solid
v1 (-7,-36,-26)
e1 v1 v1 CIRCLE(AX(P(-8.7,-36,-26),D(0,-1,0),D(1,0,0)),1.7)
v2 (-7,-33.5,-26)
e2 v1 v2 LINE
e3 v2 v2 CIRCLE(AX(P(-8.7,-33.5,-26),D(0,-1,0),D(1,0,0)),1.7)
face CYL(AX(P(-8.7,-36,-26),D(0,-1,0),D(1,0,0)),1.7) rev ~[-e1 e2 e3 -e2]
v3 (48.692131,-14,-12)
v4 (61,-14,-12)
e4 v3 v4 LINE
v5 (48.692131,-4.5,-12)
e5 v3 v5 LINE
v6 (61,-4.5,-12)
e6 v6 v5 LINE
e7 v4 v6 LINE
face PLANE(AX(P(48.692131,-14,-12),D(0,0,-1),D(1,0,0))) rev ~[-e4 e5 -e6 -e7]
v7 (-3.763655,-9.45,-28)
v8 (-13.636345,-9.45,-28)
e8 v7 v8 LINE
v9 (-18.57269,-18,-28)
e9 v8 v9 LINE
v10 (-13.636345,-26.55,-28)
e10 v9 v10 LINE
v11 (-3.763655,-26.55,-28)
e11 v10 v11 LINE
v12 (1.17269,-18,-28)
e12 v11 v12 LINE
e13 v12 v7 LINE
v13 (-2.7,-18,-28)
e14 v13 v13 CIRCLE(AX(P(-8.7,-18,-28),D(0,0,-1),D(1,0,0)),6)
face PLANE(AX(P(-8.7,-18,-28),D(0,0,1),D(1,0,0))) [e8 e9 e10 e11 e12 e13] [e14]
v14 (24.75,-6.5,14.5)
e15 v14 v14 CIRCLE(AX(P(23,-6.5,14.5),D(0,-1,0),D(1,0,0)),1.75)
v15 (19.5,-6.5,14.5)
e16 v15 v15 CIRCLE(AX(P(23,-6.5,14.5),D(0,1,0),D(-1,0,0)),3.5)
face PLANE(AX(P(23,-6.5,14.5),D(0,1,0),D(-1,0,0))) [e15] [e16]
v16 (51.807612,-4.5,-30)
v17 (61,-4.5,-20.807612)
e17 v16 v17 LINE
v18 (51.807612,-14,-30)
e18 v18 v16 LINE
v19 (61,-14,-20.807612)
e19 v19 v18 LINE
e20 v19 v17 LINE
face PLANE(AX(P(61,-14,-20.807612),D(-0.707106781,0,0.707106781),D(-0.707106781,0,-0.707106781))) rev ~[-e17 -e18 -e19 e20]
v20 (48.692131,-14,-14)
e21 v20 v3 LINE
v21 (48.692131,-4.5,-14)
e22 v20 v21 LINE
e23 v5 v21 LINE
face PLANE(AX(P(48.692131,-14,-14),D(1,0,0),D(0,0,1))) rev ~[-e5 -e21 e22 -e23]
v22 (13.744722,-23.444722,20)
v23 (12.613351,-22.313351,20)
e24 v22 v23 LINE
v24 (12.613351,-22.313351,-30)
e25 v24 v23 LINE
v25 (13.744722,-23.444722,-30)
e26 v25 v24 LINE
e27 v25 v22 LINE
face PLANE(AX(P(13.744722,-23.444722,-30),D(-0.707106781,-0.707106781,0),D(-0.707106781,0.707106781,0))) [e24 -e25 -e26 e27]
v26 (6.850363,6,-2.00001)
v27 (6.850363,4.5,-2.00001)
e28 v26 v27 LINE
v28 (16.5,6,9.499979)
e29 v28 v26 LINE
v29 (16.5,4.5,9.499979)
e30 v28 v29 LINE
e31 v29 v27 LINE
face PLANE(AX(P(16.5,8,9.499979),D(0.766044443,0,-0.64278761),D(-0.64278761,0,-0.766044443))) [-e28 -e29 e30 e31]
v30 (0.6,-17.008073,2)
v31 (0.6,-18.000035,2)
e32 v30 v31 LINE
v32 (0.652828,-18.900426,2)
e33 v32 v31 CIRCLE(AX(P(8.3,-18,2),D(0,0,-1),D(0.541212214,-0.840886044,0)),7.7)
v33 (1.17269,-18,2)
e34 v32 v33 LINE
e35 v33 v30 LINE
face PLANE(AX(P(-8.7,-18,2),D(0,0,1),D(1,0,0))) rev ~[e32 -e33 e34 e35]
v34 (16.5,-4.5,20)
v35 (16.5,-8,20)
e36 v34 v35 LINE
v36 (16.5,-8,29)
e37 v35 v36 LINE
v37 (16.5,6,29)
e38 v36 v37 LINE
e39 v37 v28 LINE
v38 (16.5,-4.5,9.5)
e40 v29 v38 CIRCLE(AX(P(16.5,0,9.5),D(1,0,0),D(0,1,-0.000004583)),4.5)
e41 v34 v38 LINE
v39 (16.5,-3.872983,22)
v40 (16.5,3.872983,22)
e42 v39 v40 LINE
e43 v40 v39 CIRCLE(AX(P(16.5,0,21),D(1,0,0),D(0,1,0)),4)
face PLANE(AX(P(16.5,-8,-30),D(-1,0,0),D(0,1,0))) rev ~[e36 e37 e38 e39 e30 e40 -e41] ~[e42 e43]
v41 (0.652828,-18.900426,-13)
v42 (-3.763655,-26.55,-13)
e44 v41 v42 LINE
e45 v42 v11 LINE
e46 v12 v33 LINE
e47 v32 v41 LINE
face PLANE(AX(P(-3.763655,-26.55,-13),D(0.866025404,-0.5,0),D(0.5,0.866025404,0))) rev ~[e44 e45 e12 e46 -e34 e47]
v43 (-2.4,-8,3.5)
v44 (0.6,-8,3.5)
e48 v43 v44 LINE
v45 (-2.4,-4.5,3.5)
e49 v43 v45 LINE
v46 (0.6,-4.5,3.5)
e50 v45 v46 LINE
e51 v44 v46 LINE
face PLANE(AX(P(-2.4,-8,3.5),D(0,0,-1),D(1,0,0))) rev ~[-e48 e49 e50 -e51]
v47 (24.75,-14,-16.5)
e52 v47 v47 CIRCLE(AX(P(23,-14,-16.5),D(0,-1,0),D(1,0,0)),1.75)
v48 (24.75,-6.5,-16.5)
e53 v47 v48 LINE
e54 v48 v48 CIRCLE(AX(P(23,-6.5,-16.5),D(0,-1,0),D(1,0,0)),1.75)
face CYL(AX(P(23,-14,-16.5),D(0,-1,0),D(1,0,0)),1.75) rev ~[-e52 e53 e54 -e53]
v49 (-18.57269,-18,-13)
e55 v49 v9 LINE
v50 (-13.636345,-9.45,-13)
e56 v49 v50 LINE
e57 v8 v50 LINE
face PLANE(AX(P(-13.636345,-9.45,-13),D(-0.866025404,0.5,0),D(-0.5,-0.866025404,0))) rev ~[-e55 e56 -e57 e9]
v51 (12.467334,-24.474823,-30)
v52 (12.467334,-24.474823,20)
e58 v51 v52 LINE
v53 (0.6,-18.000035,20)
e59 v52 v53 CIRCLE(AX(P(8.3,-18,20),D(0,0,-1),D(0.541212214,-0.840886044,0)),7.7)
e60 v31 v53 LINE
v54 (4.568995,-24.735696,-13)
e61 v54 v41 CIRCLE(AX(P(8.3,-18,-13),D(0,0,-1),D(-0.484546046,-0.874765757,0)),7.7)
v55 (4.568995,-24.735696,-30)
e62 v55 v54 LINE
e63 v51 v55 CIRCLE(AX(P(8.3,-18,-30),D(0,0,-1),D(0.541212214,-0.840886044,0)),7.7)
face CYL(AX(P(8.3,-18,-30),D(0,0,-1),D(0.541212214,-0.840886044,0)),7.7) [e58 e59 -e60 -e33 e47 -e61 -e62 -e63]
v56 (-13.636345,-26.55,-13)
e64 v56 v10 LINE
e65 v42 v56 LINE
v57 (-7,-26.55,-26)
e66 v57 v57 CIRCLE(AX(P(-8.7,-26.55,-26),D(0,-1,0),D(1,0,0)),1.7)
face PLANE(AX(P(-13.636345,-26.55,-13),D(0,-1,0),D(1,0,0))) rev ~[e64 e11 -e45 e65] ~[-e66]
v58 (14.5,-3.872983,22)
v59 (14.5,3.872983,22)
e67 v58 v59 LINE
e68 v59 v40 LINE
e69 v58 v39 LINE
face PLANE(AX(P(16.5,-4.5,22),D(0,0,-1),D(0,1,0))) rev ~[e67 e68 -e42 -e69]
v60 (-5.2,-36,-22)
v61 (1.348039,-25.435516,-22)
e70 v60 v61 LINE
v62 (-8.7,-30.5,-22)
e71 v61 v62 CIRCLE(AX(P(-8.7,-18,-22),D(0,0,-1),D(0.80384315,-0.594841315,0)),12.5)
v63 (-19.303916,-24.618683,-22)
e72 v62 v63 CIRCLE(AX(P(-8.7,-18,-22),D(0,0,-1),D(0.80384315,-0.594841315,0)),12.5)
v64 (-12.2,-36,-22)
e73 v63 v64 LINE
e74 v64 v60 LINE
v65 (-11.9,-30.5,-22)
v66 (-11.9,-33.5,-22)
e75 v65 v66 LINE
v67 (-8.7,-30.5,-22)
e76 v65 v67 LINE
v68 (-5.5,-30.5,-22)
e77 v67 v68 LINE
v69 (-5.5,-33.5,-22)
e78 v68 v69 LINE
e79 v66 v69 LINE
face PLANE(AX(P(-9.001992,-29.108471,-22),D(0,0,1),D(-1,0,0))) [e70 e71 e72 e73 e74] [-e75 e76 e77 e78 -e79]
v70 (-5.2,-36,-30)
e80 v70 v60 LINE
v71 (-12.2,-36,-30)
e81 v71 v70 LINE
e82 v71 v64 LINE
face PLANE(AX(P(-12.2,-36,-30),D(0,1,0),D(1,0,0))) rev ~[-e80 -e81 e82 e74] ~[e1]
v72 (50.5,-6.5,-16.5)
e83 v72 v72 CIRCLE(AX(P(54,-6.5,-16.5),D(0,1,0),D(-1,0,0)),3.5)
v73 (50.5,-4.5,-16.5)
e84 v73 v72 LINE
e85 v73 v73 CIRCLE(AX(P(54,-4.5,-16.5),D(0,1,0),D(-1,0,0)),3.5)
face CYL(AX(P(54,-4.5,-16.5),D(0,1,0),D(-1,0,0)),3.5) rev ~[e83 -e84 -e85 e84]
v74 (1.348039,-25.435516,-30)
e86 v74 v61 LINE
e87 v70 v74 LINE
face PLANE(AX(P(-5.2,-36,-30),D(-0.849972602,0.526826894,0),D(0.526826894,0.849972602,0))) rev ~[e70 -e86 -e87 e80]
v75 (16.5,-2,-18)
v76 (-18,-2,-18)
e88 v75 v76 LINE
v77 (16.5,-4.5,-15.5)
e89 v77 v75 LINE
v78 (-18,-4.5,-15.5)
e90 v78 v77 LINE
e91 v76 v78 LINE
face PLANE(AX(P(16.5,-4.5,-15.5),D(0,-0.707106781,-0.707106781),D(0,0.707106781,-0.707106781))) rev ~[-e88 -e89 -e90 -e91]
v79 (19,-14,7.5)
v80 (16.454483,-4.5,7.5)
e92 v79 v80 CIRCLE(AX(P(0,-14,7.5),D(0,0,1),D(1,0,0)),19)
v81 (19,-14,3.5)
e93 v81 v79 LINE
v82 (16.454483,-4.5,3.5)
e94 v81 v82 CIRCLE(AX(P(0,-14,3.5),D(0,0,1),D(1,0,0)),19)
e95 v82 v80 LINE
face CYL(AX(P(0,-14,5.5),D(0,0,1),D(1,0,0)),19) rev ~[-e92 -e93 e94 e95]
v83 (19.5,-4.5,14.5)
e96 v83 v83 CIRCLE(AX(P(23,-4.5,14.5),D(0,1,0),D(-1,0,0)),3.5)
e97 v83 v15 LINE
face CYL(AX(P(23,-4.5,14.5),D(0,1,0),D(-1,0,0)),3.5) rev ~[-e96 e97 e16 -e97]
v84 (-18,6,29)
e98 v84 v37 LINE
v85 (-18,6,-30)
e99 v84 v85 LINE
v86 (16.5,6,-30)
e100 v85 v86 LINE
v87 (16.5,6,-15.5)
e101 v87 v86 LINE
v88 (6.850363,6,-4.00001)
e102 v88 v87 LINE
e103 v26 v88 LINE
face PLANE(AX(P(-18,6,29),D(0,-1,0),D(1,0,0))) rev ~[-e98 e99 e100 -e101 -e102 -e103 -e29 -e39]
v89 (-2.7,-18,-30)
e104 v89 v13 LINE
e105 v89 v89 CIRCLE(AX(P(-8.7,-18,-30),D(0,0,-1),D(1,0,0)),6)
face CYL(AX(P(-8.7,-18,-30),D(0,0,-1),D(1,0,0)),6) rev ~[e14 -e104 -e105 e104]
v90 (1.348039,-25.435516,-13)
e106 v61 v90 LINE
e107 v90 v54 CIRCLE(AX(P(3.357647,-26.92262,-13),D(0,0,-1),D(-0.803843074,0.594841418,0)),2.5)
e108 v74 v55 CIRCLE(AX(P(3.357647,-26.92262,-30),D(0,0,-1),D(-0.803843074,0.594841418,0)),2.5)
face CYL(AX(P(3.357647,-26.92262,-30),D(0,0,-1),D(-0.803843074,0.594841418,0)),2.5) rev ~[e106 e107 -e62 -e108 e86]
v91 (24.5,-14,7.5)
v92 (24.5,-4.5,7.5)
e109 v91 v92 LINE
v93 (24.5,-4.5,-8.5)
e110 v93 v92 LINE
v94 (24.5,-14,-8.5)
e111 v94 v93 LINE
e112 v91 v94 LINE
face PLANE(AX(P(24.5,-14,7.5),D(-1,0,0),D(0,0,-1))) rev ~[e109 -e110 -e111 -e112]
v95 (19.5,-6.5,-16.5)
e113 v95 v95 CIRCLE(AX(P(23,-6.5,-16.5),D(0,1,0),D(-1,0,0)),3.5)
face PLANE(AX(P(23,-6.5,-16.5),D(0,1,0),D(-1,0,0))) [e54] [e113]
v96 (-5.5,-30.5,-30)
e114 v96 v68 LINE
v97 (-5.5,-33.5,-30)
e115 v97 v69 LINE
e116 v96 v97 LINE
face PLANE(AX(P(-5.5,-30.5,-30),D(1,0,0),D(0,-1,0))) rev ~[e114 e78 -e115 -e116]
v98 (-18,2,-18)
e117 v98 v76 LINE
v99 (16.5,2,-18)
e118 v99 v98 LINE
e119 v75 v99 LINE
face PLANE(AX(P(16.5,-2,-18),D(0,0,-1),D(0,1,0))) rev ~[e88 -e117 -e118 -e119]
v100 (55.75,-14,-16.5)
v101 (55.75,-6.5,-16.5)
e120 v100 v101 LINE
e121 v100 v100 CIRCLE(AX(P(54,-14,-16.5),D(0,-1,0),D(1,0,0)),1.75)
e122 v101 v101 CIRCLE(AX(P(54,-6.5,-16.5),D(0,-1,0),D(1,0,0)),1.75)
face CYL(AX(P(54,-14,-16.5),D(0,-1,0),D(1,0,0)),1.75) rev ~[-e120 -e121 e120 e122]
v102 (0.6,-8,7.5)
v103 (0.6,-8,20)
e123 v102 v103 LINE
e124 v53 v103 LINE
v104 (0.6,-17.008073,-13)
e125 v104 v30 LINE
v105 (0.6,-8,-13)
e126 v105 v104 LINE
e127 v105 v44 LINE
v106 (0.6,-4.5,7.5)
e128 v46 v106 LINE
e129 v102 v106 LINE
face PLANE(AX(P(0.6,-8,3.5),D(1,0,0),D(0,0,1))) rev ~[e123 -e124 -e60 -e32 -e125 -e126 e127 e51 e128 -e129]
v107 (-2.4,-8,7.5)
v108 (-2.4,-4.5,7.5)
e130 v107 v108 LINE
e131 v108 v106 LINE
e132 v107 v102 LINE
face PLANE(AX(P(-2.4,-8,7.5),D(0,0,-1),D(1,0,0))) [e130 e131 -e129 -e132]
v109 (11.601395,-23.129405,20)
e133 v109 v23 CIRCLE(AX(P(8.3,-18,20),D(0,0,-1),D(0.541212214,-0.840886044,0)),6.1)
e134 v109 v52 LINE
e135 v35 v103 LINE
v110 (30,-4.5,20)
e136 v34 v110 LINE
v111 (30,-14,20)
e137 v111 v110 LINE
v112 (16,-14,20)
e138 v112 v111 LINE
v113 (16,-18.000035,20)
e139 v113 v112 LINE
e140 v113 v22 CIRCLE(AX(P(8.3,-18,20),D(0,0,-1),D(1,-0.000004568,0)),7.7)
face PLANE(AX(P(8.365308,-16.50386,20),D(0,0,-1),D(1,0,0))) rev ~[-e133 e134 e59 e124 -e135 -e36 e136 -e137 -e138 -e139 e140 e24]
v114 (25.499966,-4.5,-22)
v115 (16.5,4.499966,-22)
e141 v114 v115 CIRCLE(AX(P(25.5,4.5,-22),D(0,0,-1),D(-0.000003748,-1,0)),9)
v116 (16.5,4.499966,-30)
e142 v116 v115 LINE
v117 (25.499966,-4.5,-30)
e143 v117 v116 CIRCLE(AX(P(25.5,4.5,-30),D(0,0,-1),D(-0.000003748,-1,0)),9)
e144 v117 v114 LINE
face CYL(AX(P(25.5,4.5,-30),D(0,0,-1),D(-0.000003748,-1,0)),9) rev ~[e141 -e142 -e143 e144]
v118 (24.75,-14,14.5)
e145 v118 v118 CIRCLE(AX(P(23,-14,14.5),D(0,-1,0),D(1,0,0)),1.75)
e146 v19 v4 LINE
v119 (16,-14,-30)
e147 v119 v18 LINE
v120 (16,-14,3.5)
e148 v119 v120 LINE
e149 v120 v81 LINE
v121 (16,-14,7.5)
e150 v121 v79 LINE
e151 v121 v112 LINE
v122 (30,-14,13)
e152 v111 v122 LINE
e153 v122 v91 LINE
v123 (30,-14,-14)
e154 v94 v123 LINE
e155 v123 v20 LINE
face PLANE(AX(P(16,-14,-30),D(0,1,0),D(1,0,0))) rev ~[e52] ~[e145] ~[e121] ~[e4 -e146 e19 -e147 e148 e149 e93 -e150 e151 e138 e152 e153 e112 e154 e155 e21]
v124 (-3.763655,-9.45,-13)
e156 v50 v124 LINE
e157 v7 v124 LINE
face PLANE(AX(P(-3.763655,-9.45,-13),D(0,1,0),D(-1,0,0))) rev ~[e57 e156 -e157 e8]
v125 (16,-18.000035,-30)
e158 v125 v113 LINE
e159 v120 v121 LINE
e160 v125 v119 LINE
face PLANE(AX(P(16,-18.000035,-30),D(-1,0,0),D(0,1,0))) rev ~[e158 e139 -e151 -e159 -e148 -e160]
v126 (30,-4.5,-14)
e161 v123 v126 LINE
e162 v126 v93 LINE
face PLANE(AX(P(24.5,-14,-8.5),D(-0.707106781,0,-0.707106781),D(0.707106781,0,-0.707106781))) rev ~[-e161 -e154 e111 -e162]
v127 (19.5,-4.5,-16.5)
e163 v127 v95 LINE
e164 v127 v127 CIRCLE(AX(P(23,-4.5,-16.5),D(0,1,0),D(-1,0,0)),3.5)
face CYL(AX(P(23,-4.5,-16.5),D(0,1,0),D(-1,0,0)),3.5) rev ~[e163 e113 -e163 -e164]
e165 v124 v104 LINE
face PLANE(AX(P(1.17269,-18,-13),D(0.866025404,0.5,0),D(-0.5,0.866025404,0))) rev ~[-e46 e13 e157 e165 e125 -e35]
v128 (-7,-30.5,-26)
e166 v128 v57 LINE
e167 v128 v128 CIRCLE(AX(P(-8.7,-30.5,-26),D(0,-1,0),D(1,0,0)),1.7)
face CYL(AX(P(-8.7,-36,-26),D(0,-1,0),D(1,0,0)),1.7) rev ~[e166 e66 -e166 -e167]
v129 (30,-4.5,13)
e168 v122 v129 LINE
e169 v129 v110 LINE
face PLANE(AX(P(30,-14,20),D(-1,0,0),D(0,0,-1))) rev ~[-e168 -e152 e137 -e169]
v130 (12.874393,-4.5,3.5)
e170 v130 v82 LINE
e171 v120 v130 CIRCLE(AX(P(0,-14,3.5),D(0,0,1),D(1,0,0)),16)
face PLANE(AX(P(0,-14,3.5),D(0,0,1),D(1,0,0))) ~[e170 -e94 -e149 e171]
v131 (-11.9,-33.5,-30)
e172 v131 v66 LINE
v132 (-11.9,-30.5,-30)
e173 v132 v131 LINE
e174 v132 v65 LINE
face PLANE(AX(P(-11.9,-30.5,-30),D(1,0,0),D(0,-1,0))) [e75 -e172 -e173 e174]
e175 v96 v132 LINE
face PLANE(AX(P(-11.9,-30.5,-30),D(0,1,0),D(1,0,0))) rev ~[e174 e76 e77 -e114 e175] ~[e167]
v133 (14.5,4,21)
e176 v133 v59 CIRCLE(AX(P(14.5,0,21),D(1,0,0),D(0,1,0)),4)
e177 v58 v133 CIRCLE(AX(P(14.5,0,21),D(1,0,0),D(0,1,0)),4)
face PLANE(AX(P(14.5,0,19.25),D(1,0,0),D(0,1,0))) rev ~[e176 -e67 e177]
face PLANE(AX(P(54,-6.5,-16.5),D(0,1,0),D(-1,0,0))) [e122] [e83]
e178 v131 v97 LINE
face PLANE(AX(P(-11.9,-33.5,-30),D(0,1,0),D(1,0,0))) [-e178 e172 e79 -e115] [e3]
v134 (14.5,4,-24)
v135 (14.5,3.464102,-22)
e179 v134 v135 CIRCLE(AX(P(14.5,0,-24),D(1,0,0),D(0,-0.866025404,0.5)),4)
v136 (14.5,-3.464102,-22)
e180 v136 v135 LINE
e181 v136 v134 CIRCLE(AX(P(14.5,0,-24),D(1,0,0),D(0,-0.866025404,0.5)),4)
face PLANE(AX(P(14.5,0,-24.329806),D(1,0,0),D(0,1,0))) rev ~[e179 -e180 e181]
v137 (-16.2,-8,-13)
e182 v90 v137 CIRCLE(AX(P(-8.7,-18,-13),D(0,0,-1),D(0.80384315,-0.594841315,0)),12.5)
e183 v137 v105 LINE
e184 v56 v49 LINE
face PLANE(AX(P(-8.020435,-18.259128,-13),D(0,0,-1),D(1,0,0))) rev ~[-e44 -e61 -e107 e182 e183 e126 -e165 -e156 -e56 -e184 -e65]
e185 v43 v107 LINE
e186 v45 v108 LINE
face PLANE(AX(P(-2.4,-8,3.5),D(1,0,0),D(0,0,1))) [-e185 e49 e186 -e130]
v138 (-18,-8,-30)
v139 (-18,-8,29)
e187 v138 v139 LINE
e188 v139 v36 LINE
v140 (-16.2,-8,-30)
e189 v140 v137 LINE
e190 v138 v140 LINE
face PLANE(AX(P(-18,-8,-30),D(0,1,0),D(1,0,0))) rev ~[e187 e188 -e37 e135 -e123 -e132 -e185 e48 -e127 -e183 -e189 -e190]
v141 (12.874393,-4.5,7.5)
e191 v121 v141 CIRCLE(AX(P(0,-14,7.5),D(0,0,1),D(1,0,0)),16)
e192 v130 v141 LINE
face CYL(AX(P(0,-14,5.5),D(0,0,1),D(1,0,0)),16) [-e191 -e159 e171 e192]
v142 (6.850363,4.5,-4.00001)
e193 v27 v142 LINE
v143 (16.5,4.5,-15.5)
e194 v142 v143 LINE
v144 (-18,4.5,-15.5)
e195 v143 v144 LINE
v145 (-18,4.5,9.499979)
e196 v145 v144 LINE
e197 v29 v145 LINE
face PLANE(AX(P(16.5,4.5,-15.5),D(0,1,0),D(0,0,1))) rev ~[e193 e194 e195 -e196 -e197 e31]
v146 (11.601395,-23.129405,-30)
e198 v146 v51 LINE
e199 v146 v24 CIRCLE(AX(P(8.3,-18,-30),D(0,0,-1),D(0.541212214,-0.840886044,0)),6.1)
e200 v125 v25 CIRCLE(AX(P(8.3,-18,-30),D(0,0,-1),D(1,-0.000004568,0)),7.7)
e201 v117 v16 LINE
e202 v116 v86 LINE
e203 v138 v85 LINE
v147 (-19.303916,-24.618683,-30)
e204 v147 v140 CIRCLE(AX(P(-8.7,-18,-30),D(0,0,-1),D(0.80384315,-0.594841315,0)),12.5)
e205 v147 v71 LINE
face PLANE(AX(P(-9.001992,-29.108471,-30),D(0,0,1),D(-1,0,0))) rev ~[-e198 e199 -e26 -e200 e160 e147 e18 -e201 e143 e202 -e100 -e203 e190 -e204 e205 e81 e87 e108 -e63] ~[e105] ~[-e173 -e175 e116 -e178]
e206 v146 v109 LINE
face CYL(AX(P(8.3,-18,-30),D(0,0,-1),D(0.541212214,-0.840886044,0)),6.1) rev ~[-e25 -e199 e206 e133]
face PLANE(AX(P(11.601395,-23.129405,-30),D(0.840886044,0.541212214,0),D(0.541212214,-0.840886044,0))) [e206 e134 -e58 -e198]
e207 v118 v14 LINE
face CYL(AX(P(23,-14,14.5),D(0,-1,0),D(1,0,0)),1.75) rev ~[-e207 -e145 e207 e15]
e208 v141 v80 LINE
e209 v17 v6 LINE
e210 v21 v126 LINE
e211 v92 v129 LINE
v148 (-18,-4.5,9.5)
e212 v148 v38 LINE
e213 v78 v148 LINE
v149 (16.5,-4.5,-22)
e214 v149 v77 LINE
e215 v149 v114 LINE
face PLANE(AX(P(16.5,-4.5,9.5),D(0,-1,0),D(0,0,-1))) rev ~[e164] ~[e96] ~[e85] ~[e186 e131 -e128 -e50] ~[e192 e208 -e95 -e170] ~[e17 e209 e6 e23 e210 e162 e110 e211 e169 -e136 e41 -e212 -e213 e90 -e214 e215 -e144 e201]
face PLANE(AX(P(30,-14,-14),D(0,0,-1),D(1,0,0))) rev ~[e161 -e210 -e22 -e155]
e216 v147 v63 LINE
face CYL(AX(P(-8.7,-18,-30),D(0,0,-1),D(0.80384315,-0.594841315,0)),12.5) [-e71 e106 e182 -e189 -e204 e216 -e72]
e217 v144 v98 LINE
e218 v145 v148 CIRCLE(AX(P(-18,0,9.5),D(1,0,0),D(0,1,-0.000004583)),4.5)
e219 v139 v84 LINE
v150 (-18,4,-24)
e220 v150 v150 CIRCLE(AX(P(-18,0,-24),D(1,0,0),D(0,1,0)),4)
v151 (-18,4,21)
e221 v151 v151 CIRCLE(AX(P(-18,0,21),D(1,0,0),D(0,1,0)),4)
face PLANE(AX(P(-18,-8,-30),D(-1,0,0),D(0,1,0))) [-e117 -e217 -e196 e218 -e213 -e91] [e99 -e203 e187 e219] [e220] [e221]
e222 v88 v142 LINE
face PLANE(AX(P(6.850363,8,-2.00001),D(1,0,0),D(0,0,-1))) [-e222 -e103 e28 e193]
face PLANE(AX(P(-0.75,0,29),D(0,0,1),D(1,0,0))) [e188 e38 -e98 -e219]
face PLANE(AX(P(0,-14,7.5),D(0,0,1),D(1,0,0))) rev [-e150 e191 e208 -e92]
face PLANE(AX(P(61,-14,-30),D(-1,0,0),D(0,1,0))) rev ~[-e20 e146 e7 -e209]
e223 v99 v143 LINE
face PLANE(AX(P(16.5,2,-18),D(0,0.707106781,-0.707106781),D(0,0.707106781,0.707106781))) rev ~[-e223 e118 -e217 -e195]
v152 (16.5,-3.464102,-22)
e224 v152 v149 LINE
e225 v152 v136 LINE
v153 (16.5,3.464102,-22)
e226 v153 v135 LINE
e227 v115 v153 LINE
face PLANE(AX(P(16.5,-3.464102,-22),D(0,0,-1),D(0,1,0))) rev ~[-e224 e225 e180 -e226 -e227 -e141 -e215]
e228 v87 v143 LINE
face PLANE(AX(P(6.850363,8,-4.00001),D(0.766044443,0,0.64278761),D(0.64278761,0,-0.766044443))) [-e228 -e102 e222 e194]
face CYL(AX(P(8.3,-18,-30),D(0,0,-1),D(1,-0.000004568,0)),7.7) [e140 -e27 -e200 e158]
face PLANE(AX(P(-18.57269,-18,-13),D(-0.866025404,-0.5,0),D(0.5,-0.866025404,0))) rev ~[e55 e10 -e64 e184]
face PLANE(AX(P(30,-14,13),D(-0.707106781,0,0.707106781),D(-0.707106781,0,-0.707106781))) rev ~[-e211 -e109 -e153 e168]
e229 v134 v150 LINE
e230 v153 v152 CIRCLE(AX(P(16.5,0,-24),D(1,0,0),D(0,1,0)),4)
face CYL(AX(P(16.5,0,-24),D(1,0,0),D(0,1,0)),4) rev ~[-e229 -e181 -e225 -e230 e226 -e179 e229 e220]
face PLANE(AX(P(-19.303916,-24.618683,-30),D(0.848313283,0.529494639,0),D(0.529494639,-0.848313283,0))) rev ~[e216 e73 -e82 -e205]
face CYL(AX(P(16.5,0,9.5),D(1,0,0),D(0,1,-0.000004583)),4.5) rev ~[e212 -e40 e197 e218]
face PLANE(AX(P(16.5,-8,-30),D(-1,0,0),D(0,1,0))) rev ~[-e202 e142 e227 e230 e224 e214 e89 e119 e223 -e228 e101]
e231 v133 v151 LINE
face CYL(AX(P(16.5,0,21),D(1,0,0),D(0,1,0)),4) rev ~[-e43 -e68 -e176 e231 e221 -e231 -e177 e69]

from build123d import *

# Parameters (mm, degrees)
BOX_W           = 34.5
BOX_H           = 16
BOX_DEPTH       = 59
SKETCH_R        = 4
POCKET_DEPTH    = 34.501
POCKET001_DEPTH = 3.5000000001
BOX001_W        = 45
BOX001_H        = 9.5
BOX001_DEPTH    = 50
SKETCH008_R     = 1.75
POCKET002_DEPTH = 9.5010000001
PAD_DEPTH       = 8
PAD001_DEPTH    = 2
SKETCH009_R     = 3.5
POCKET003_DEPTH = 2
PAD002_DEPTH    = 50
SKETCH013_R     = 6
PAD003_DEPTH    = 17
SKETCH019_W     = 9
SKETCH019_H     = 5.5
PAD004_DEPTH    = 2
SKETCH015_W     = 3
SKETCH015_H     = 4
GROOVE_ANGLE    = 40
SKETCH016_W     = 3
SKETCH016_H     = 4
POCKET004_DEPTH = 5
SKETCH020_W     = 6.4
SKETCH020_H     = 3
PAD005_DEPTH    = 8
SKETCH021_R     = 1.7
POCKET005_DEPTH = 13
POCKET006_DEPTH = 15
SKETCH023_W     = 34.5
SKETCH023_H     = 2
POCKET007_DEPTH = 100


with BuildPart() as pocket001:
    # Box → Box (new body)
    with BuildSketch(Plane(origin=(-18, -8, -30), x_dir=(1, 0, 0), z_dir=(0, 0, 1))):
        with Locations((17.25, 8)):
            Rectangle(BOX_W, BOX_H)
    extrude(amount=BOX_DEPTH)

    # Sketch → Pocket (cut, through all)
    with BuildSketch(Plane(origin=(16.5, -8, -30), x_dir=(0, 1, 0), z_dir=(1, 0, 0))):
        with Locations((8, 51)):
            Circle(SKETCH_R)
        with Locations((8, 6)):
            Circle(SKETCH_R)
        with BuildLine():
            ThreePointArc((12.5, 39.4999793754), (8.0000103123, 44), (3.5, 39.5))
            Line((3.5, 39.5), (3.5, 14.5))
            Line((3.5, 14.5), (6, 12))
            Line((6, 12), (10, 12))
            Line((10, 12), (12.5, 14.5))
            Line((12.5, 14.5), (12.5, 39.4999793754))
        make_face()
    extrude(amount=-POCKET_DEPTH, mode=Mode.SUBTRACT)

    # Sketch007 → Pocket001 (cut)
    with BuildSketch(Plane(origin=(-18, 8, -30), x_dir=(-1, 0, 0), z_dir=(0, 1, 0))):
        Polygon((-34.5, 39.4999793754), (-24.8503628945, 27.9999896877), (-24.8503628945, 25.9999896877), (-34.5, 14.5), align=None)
    extrude(amount=-POCKET001_DEPTH, mode=Mode.SUBTRACT)


with BuildPart() as pocket007:
    # Box001 → Box001 (new body)
    with BuildSketch(Plane(origin=(16, -14, -30), x_dir=(1, 0, 0), z_dir=(0, 0, 1))):
        with Locations((22.5, 4.75)):
            Rectangle(BOX001_W, BOX001_H)
    extrude(amount=BOX001_DEPTH)

    # Sketch008 → Pocket002 (cut, through all)
    with BuildSketch(Plane(origin=(16, -14, -30), x_dir=(1, 0, 0), z_dir=(0, -1, 0))):
        with Locations((7, 44.5)):
            Circle(SKETCH008_R)
        with Locations((7, 13.5)):
            Circle(SKETCH008_R)
        with Locations((38, 13.5)):
            Circle(SKETCH008_R)
        Polygon((14, 50), (14, 43), (8.5, 37.5), (8.5, 21.5), (14, 16), (32.692131, 16), (32.692131, 18), (45, 18), (45, 50), align=None)
        Polygon((45, 9.1923881554), (35.8076118446, 0), (45, 0), align=None)
    extrude(amount=-POCKET002_DEPTH, mode=Mode.SUBTRACT)

    # Fusion: union Pocket001
    add(pocket001.part)

    # Sketch010 → Pad (new body)
    with BuildSketch(Plane(origin=(0, 0, -30), x_dir=(1, 0, 0), z_dir=(0, 0, -1))):
        with BuildLine():
            ThreePointArc((25.4999662688, 4.4999999999), (19.1360389694, 1.8639610307), (16.5000000001, -4.4999662687))
            Line((16.5000000001, -4.4999662687), (16.5000000001, 4.4999999999))
            Line((16.5000000001, 4.4999999999), (25.4999662688, 4.4999999999))
        make_face()
    extrude(amount=-PAD_DEPTH)

    # Sketch011 → Pad001 (new body)
    with BuildSketch(Plane.YZ.offset(16.5)):
        with BuildLine():
            ThreePointArc((-3.4641016151, -22), (0, -28), (3.4641016151, -22))
            Line((-3.4641016151, -22), (3.4641016151, -22))
        make_face()
    extrude(amount=-PAD001_DEPTH)

    # Sketch009 → Pocket003 (cut)
    with BuildSketch(Plane(origin=(0, -4.5, 0), x_dir=(-1, 0, 0), z_dir=(0, 1, 0))):
        with Locations((-23, 14.5)):
            Circle(SKETCH009_R)
        with Locations((-54, -16.5)):
            Circle(SKETCH009_R)
        with Locations((-23, -16.5)):
            Circle(SKETCH009_R)
    extrude(amount=-POCKET003_DEPTH, mode=Mode.SUBTRACT)

    # Sketch012 → Pad002 (new body)
    with BuildSketch(Plane(origin=(0, 0, -30), x_dir=(1, 0, 0), z_dir=(0, 0, -1))):
        with BuildLine():
            ThreePointArc((15.9999999999, 18.0000351724), (15.4138656704, 20.9466786767), (13.7447222151, 23.4447222151))
            Line((13.7447222151, 23.4447222151), (12.6133513652, 22.3133513652))
            ThreePointArc((11.6013945082, 23.1294048681), (4.4708258711, 13.2515870556), (12.6133513652, 22.3133513652))
            Line((11.6013945082, 23.1294048681), (12.4673340514, 24.4748225384))
            ThreePointArc((12.4673340514, 24.4748225384), (4.6120940547, 24.759389746), (0.6000000001, 18.0000351024))
            Line((0.6000000001, 18.0000351024), (0.6000000001, 8))
            Line((0.6000000001, 8), (15.9999999999, 8))
            Line((15.9999999999, 18.0000351724), (15.9999999999, 8))
        make_face()
    extrude(amount=-PAD002_DEPTH)

    # Sketch013 → Pad003 (new body)
    with BuildSketch(Plane(origin=(0, 0, -30), x_dir=(1, 0, 0), z_dir=(0, 0, -1))):
        with BuildLine():
            ThreePointArc((1.3480393737, 25.435516441), (-17.5103595019, 26.8672185857), (-16.2, 8))
            Line((-16.2, 8), (0.6000000001, 8))
            Line((0.6000000001, 8), (0.6, 18.0000060082))
            ThreePointArc((4.5689954494, 24.7356963295), (1.6660458786, 21.9090475457), (0.6, 18.0000060082))
            ThreePointArc((1.3480393737, 25.435516441), (2.8268537634, 24.4796180457), (4.5689954493, 24.7356963295))
        make_face()
        with Locations((-8.7, 18)):
            Circle(SKETCH013_R, mode=Mode.SUBTRACT)
    extrude(amount=-PAD003_DEPTH)

    # Sketch019 → Pad004 (new body)
    with BuildSketch(Plane.YZ.offset(16.5)):
        with Locations((0, 19.25)):
            Rectangle(SKETCH019_W, SKETCH019_H)
    extrude(amount=-PAD004_DEPTH)

    # Sketch015 → Groove (revolve, cut)
    with BuildSketch(Plane.XZ.offset(14)):
        with Locations((17.5, 5.5)):
            Rectangle(SKETCH015_W, SKETCH015_H)
    revolve(axis=Axis((0, -14, 0), (0, 0, 1)), revolution_arc=GROOVE_ANGLE, mode=Mode.SUBTRACT)

    # Sketch016 → Pocket004 (cut)
    with BuildSketch(Plane.XZ.offset(8)):
        with Locations((-0.8999999999, 5.5)):
            Rectangle(SKETCH016_W, SKETCH016_H)
    extrude(amount=-POCKET004_DEPTH, mode=Mode.SUBTRACT)

    # Sketch020 → Pad005 (new body)
    with BuildSketch(Plane(origin=(0, 0, -30), x_dir=(1, 0, 0), z_dir=(0, 0, -1))):
        Polygon((-19.3039162536, 24.6186826549), (-12.2, 36), (-5.2, 36), (1.3480393737, 25.435516441), align=None)
        with Locations((-8.7, 32)):
            Rectangle(SKETCH020_W, SKETCH020_H, mode=Mode.SUBTRACT)
    extrude(amount=-PAD005_DEPTH)

    # Sketch021 → Pocket005 (cut)
    with BuildSketch(Plane.XZ.offset(36)):
        with Locations((-8.7, -26)):
            Circle(SKETCH021_R)
    extrude(amount=-POCKET005_DEPTH, mode=Mode.SUBTRACT)

    # Sketch022 → Pocket006 (cut, symmetric)
    with BuildSketch(Plane.XY.offset(-13)):
        Polygon((-3.7636551984, -26.55), (1.1726896031, -18), (-3.7636551984, -9.45), (-13.6363448016, -9.45), (-18.5726896031, -18), (-13.6363448016, -26.55), align=None)
    extrude(amount=POCKET006_DEPTH, both=True, mode=Mode.SUBTRACT)

    # Sketch023 → Pocket007 (cut)
    with BuildSketch(Plane.XY.offset(29)):
        with Locations((-0.75, 7)):
            Rectangle(SKETCH023_W, SKETCH023_H)
    extrude(amount=-POCKET007_DEPTH, mode=Mode.SUBTRACT)


solid = pocket007.part
